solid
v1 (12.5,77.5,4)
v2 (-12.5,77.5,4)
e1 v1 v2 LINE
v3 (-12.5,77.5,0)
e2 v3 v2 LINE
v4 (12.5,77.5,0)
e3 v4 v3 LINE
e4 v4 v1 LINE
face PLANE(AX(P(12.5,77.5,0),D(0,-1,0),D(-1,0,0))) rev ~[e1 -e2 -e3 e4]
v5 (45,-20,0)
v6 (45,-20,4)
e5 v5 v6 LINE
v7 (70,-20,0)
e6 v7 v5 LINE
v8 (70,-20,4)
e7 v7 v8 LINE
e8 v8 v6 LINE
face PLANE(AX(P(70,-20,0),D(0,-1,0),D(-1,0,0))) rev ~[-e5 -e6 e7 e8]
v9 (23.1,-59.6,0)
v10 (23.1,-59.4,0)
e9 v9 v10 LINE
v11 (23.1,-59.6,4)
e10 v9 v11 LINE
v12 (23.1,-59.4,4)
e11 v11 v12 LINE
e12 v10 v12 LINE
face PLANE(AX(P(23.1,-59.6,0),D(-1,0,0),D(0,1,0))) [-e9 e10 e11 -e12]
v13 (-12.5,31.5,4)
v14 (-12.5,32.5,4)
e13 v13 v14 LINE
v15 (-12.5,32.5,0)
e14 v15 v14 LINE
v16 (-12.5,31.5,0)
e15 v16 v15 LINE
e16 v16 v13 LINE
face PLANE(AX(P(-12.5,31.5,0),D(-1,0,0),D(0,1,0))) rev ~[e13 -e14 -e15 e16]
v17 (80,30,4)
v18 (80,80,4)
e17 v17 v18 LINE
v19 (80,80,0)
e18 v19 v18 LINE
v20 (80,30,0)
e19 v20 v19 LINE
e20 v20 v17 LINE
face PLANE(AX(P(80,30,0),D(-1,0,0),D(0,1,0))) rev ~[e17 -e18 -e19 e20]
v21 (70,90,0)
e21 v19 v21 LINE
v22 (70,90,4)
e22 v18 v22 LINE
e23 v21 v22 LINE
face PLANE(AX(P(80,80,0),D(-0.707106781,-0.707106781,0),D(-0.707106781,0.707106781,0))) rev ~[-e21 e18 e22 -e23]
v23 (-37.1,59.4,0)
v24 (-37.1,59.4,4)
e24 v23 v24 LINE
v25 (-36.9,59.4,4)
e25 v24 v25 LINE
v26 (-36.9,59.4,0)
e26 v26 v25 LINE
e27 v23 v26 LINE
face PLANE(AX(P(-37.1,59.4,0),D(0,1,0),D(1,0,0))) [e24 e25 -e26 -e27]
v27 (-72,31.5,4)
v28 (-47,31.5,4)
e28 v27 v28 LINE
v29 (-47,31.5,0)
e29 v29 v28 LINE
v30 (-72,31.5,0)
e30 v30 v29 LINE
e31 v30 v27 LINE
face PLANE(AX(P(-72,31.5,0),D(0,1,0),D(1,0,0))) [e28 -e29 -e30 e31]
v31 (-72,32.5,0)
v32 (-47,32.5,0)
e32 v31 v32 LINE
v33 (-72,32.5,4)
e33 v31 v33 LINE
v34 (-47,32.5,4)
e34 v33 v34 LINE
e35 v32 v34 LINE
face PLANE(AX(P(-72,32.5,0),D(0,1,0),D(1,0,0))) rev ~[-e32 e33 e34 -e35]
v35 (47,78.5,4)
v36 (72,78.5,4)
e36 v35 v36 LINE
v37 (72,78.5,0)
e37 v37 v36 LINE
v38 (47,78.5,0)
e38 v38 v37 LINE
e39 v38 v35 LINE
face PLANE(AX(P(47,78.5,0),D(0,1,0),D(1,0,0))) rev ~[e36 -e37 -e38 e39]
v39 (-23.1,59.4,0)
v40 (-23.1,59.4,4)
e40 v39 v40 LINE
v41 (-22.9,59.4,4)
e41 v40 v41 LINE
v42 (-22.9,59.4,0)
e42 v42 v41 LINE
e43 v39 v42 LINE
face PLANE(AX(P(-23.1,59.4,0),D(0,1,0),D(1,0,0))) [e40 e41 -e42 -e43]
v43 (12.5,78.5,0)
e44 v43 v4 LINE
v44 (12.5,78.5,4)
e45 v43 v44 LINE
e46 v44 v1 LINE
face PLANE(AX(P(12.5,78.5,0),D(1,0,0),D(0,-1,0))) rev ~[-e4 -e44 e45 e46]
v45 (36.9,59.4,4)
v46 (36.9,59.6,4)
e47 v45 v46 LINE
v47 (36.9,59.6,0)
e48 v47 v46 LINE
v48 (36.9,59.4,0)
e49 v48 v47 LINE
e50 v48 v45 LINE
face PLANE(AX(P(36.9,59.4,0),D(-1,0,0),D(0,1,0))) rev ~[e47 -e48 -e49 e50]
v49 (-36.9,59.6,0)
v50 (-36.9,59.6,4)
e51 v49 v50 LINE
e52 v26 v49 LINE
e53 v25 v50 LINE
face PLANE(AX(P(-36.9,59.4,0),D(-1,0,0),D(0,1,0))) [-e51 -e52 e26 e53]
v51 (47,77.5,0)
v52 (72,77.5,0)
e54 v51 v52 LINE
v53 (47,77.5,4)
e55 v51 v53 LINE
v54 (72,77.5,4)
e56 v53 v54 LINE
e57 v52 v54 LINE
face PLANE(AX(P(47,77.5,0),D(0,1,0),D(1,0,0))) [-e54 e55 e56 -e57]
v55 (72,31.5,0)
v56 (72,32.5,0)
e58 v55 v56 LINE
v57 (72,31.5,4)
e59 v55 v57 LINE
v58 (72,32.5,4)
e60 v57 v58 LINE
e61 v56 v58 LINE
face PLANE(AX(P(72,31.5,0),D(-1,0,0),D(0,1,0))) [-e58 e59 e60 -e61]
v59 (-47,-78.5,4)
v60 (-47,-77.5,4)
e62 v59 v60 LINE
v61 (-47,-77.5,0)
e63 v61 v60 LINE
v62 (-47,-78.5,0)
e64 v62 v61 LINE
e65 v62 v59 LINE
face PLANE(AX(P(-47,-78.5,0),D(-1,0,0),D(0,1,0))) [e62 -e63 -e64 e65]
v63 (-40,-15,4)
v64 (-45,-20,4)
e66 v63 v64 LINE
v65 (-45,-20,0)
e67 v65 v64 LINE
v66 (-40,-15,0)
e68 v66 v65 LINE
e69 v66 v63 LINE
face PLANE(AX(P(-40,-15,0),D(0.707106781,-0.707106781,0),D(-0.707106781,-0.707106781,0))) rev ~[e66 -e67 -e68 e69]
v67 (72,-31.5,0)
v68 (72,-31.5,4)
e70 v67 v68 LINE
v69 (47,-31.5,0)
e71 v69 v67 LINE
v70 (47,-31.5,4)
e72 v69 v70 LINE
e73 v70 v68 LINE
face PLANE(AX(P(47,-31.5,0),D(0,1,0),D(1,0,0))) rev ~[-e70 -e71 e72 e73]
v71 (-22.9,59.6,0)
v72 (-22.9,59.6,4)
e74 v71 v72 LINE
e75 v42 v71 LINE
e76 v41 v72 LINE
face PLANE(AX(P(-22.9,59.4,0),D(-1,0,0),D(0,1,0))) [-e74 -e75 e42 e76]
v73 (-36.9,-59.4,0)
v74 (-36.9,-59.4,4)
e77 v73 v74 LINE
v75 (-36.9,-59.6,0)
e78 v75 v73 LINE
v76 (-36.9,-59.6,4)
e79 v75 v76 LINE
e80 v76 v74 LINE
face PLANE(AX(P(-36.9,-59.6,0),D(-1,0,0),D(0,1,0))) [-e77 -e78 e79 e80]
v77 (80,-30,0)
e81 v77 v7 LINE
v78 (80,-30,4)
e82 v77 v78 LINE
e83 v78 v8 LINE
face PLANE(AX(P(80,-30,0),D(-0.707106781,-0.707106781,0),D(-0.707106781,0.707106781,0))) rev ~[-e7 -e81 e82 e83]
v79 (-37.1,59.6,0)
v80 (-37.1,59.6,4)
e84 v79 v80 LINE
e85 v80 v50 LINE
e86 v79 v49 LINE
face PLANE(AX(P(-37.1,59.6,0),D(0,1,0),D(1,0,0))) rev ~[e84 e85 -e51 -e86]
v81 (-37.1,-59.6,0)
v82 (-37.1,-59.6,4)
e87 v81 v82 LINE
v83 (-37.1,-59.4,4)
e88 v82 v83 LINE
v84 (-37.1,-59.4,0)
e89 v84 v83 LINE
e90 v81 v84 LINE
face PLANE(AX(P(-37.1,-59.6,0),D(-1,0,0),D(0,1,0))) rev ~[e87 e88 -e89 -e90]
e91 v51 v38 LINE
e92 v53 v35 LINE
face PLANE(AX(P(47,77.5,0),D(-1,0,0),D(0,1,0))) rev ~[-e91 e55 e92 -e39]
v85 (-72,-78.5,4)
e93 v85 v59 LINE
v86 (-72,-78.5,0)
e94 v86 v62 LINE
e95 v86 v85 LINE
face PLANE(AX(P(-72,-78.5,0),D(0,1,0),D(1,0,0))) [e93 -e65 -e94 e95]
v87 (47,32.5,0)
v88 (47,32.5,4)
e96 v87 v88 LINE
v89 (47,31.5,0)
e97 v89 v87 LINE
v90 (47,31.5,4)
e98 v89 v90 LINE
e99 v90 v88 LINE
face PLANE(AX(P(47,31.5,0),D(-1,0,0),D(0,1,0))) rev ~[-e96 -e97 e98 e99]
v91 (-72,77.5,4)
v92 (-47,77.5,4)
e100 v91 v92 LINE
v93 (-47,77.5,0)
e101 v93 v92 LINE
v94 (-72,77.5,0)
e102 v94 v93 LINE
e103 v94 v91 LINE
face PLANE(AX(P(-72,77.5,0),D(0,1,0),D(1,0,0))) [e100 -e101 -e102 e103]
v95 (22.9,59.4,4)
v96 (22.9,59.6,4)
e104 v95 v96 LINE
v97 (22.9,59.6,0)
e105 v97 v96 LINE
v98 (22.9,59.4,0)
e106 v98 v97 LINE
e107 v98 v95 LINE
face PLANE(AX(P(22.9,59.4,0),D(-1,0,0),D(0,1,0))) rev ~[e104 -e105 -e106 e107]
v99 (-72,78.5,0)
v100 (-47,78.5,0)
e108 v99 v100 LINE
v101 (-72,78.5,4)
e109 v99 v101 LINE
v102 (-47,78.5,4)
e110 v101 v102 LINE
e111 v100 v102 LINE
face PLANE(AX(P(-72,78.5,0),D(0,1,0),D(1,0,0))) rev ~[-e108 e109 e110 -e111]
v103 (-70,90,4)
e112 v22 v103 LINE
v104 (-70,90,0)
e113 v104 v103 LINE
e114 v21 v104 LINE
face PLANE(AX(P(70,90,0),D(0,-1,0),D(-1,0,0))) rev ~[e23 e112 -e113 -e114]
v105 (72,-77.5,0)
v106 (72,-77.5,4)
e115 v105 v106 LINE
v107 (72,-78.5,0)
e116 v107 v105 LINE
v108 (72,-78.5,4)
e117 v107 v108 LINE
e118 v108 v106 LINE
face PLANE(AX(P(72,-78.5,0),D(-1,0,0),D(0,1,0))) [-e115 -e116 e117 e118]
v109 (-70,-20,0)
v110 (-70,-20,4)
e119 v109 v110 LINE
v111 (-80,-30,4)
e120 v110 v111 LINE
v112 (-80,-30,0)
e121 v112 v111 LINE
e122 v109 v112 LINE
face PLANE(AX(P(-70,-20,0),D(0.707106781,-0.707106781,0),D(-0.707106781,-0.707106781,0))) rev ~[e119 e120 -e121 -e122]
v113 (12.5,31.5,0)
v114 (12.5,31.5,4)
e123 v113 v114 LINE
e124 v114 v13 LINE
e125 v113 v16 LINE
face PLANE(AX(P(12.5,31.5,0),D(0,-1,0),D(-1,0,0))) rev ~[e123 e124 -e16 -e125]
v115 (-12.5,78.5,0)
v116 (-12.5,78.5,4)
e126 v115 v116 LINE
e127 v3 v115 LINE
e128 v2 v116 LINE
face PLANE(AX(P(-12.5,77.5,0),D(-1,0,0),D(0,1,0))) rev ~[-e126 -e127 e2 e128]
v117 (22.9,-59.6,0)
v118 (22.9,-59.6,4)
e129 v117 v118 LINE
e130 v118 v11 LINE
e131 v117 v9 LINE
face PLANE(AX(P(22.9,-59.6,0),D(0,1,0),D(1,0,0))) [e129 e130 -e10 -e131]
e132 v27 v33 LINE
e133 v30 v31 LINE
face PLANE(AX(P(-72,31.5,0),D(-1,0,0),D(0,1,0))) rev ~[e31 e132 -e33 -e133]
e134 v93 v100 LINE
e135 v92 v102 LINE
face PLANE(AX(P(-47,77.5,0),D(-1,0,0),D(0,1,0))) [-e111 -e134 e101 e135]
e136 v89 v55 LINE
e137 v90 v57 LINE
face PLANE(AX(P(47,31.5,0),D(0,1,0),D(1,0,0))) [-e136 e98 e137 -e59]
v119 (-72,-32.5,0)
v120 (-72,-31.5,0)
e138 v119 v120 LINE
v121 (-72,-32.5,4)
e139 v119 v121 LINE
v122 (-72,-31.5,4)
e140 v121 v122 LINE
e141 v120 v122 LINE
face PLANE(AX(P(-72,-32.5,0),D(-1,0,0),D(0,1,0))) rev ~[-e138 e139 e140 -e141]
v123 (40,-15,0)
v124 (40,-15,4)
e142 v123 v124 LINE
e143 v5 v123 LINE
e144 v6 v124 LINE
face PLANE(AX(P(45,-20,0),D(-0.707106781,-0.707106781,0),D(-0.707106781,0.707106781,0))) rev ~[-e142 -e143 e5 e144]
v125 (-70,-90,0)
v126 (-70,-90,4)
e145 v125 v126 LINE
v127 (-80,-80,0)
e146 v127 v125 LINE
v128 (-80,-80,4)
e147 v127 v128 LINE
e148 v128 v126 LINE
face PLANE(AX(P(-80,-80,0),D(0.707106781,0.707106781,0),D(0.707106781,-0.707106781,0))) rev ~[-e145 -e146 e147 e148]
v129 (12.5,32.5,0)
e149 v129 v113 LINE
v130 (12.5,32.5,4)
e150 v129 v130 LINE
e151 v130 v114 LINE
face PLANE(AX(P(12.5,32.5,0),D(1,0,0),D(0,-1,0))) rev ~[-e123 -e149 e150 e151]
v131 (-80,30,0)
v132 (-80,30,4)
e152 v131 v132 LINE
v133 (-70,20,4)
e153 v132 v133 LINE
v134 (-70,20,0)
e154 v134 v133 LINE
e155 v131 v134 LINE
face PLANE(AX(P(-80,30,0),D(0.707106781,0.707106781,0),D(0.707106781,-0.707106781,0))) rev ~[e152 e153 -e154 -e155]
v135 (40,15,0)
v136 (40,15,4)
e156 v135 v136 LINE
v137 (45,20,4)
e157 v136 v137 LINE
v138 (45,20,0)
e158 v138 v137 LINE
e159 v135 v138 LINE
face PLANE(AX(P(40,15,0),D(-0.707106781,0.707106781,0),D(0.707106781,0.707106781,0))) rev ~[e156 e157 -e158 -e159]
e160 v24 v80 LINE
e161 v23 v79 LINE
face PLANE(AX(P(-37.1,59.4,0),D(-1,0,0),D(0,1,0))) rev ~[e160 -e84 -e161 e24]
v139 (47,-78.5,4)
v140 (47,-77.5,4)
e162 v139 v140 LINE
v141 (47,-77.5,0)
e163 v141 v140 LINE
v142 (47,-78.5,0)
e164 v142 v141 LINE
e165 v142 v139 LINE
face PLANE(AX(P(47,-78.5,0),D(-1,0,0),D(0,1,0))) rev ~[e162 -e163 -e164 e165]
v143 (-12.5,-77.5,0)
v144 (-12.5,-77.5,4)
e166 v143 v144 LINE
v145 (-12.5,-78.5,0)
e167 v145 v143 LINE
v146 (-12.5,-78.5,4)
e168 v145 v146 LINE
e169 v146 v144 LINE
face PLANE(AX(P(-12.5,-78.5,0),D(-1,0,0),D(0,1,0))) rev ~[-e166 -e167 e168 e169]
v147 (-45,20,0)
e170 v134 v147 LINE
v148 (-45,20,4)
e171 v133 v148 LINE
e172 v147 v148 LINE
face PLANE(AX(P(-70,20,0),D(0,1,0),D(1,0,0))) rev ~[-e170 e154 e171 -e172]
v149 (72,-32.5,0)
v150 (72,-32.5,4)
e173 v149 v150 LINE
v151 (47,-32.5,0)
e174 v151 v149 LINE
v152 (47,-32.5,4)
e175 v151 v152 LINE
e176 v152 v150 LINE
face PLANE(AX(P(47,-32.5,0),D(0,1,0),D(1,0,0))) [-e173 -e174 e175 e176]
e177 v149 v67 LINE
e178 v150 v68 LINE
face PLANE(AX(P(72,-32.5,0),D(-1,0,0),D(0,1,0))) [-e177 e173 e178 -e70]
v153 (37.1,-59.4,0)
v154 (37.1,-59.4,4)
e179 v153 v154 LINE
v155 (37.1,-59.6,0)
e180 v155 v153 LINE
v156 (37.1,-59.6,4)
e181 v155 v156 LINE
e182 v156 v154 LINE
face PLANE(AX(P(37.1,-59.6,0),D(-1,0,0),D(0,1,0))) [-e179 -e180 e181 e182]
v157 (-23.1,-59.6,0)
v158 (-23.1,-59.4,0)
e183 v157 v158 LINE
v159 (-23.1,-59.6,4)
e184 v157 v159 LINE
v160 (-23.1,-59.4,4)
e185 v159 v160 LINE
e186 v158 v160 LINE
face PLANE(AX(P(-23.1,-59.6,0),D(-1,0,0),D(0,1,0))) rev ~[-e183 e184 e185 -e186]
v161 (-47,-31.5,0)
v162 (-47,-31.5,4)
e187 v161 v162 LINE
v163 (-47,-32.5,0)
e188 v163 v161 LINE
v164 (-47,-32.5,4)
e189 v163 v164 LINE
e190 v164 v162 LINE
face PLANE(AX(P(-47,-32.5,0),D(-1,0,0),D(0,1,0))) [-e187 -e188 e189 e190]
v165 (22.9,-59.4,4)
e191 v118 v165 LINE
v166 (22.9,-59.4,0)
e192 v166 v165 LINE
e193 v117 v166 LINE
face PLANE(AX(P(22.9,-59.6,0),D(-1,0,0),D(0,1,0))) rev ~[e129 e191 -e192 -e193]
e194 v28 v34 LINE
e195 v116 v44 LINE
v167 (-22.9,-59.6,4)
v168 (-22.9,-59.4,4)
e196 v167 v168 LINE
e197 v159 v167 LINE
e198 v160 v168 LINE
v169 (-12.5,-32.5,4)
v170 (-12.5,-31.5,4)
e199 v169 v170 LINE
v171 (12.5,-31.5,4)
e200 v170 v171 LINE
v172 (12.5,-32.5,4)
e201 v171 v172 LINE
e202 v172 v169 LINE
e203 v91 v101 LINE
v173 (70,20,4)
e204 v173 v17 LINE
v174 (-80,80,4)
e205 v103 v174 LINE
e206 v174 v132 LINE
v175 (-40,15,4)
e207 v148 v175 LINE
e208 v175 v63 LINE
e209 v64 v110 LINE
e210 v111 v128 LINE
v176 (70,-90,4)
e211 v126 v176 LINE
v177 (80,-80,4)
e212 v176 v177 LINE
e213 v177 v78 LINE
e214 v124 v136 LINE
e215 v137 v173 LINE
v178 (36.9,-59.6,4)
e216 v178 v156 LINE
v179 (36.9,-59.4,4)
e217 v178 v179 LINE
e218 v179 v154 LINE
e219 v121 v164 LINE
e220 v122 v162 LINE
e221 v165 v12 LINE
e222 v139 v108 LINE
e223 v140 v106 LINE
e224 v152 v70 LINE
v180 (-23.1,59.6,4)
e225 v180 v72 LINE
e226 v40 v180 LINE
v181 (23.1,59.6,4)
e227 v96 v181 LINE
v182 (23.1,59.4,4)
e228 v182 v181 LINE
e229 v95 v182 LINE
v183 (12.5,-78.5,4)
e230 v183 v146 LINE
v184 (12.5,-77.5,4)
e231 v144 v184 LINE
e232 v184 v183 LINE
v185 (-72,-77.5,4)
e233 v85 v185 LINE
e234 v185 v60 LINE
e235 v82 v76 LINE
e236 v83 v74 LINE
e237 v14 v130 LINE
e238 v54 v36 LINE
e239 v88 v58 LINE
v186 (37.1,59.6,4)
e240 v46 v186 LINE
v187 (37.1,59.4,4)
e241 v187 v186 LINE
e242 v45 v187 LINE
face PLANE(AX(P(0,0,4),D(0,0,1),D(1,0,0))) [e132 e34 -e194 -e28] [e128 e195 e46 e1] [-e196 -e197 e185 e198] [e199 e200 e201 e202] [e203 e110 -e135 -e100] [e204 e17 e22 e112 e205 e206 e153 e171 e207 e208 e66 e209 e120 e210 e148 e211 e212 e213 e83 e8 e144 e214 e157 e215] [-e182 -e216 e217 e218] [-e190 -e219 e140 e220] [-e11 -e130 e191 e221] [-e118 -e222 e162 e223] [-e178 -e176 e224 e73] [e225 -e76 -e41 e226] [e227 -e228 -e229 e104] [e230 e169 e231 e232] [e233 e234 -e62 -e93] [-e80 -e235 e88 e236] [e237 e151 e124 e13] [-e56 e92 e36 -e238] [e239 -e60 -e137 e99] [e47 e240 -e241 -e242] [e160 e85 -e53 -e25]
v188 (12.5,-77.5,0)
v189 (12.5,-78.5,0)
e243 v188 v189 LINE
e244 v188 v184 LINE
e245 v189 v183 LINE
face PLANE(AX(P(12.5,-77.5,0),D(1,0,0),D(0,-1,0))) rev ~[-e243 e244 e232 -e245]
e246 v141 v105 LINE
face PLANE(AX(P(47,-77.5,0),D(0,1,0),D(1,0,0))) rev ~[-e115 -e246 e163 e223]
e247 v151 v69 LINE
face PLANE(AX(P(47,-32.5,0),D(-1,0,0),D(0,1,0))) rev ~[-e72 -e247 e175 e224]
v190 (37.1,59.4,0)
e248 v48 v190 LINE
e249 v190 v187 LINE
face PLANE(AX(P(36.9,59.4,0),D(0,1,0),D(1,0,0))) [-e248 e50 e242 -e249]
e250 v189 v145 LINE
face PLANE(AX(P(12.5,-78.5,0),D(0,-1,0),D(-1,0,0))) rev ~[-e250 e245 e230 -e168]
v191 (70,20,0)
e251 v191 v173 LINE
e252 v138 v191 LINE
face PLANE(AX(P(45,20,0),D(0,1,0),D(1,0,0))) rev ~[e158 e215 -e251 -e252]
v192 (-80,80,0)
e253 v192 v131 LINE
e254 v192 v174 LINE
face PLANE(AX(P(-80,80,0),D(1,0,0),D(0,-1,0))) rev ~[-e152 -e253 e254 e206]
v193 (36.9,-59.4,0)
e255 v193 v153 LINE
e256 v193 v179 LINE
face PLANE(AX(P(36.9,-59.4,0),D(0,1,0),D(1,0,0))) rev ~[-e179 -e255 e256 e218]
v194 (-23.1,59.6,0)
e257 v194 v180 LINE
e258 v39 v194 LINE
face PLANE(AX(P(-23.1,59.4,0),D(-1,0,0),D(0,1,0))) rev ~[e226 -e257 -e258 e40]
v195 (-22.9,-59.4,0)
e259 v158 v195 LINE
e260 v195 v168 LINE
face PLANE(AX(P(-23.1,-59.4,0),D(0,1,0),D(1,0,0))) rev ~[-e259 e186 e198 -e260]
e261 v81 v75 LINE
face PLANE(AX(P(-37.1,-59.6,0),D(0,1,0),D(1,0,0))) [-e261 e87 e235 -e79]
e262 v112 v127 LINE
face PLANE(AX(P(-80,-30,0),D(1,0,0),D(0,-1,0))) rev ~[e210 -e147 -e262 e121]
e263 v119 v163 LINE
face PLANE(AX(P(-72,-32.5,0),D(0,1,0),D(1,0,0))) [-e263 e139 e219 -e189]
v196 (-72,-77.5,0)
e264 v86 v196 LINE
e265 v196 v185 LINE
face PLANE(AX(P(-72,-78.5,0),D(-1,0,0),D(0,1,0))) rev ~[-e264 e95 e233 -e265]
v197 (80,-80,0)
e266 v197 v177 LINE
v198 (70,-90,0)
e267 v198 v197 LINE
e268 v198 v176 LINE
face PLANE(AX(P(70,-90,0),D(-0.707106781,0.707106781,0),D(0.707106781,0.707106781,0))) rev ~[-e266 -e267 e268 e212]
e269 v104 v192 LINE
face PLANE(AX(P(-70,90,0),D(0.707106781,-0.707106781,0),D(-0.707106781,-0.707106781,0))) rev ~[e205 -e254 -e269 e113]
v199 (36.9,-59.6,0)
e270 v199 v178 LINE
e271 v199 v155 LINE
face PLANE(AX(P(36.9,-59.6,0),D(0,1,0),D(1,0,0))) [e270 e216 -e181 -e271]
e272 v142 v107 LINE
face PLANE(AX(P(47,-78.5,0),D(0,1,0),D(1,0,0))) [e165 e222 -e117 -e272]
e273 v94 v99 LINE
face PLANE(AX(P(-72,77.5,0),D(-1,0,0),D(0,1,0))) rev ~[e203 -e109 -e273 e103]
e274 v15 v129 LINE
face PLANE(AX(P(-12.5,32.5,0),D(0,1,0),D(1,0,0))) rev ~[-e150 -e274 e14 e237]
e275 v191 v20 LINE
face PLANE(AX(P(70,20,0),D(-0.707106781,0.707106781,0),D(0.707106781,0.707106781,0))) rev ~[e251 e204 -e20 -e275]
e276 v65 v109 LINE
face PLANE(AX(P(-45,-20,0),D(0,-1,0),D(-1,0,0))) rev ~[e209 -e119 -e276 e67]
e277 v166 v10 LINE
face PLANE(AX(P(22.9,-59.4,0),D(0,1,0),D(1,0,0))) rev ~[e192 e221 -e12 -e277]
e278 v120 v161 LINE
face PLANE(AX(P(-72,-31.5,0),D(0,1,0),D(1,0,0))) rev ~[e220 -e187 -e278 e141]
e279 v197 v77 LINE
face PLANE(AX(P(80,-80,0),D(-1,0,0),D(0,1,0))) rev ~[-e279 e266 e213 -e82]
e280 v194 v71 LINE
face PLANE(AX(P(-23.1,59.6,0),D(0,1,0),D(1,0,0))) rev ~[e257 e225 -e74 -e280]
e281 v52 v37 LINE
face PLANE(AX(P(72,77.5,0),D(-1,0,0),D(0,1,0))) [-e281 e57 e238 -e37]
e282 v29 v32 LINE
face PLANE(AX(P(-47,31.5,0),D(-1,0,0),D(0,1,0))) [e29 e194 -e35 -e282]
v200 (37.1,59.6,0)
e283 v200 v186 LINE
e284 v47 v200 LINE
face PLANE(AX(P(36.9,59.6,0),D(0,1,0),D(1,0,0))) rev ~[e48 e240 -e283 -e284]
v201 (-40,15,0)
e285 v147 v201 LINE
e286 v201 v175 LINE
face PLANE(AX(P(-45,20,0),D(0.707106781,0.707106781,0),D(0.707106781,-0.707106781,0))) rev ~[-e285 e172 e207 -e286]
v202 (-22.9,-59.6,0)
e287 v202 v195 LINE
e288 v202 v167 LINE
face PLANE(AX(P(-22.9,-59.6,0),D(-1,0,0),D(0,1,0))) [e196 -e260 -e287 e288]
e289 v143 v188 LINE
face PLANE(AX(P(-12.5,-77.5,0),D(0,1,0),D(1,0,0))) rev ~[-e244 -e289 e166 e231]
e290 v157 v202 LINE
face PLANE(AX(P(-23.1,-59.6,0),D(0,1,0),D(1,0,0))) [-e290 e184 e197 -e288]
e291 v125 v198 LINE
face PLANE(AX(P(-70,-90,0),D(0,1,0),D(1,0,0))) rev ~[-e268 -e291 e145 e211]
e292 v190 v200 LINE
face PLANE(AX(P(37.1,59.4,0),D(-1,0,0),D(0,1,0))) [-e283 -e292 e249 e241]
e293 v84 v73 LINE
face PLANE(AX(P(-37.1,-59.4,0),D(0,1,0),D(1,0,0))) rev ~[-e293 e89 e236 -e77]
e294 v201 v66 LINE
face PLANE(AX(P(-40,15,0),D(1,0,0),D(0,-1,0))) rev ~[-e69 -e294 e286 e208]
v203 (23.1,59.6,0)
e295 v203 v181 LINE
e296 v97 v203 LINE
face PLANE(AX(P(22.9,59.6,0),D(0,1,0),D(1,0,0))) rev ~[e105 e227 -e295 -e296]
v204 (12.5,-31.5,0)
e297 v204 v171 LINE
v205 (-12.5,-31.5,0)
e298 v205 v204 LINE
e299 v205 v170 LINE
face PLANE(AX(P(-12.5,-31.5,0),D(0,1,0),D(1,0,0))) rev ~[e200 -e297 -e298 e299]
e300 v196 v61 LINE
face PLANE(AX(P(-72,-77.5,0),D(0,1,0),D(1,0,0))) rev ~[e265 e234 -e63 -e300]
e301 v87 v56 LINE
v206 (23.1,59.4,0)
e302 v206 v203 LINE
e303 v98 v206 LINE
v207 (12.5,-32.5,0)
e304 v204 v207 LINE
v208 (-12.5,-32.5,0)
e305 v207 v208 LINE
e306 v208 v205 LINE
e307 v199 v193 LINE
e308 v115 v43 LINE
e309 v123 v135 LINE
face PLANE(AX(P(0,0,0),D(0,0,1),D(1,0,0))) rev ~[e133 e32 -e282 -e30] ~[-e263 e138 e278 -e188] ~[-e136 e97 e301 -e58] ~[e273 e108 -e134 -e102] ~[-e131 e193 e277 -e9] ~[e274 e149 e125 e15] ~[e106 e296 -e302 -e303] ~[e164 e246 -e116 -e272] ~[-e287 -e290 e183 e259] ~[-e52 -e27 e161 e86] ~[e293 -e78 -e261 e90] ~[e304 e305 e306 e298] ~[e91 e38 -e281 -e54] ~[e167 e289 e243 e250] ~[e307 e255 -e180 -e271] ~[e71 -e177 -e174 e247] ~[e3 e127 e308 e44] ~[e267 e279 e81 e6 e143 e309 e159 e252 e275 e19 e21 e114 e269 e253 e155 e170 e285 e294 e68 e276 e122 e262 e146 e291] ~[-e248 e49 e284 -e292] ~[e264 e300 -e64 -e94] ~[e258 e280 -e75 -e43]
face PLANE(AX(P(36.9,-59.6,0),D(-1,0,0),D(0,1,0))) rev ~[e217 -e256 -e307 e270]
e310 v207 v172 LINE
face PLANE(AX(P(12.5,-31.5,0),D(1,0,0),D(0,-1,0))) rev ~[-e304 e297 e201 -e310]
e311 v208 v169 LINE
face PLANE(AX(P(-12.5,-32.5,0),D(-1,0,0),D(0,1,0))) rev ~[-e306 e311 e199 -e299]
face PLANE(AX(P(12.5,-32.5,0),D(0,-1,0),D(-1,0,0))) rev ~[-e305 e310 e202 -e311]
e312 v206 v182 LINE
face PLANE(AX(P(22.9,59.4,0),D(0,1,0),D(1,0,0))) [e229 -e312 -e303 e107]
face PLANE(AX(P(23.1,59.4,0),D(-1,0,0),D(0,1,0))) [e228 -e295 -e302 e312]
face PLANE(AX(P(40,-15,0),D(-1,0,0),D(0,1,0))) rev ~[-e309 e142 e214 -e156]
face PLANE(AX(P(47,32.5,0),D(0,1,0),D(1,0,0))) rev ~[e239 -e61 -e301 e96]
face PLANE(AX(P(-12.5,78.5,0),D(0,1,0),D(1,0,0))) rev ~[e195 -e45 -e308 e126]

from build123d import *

# Parameters (mm, degrees)
F0_W     = 25
F0_H     = 1
F0_W_2   = 0.2
F0_H_2   = 0.2
F1_DEPTH = 4


with BuildPart() as f1:
    # F0 (on Top) → F1 (new body)
    with BuildSketch(Plane.XY):
        Polygon((70, 90), (0, 90), (-70, 90), (-80, 80), (-80, 30), (-70, 20), (-45, 20), (-40, 15), (-40, 0), (-40, -15), (-45, -20), (-70, -20), (-80, -30), (-80, -80), (-70, -90), (0, -90), (70, -90), (80, -80), (80, -30), (70, -20), (45, -20), (40, -15), (40, 0), (40, 15), (45, 20), (70, 20), (80, 30), (80, 80), align=None)
        with Locations((-59.5, -78)):
            Rectangle(F0_W, F0_H, mode=Mode.SUBTRACT)
        with Locations((-37, -59.5)):
            Rectangle(F0_W_2, F0_H_2, mode=Mode.SUBTRACT)
        with Locations((-23, -59.5)):
            Rectangle(F0_W_2, F0_H_2, mode=Mode.SUBTRACT)
        with Locations((-59.5, -32)):
            Rectangle(F0_W, F0_H, mode=Mode.SUBTRACT)
        Polygon((12.5, -78.5), (0, -78.5), (-12.5, -78.5), (-12.5, -77.5), (0, -77.5), (12.5, -77.5), align=None, mode=Mode.SUBTRACT)
        with Locations((23, -59.5)):
            Rectangle(F0_W_2, F0_H_2, mode=Mode.SUBTRACT)
        with Locations((37, -59.5)):
            Rectangle(F0_W_2, F0_H_2, mode=Mode.SUBTRACT)
        with Locations((59.5, -78)):
            Rectangle(F0_W, F0_H, mode=Mode.SUBTRACT)
        Polygon((12.5, -32.5), (0, -32.5), (-12.5, -32.5), (-12.5, -31.5), (0, -31.5), (12.5, -31.5), align=None, mode=Mode.SUBTRACT)
        with Locations((59.5, -32)):
            Rectangle(F0_W, F0_H, mode=Mode.SUBTRACT)
        with Locations((-59.5, 32)):
            Rectangle(F0_W, F0_H, mode=Mode.SUBTRACT)
        with Locations((-59.5, 78)):
            Rectangle(F0_W, F0_H, mode=Mode.SUBTRACT)
        with Locations((-37, 59.5)):
            Rectangle(F0_W_2, F0_H_2, mode=Mode.SUBTRACT)
        with Locations((-23, 59.5)):
            Rectangle(F0_W_2, F0_H_2, mode=Mode.SUBTRACT)
        Polygon((12.5, 32.5), (12.5, 31.5), (0, 31.5), (-12.5, 31.5), (-12.5, 32.5), (0, 32.5), align=None, mode=Mode.SUBTRACT)
        with Locations((59.5, 32)):
            Rectangle(F0_W, F0_H, mode=Mode.SUBTRACT)
        with Locations((23, 59.5)):
            Rectangle(F0_W_2, F0_H_2, mode=Mode.SUBTRACT)
        with Locations((37, 59.5)):
            Rectangle(F0_W_2, F0_H_2, mode=Mode.SUBTRACT)
        Polygon((-12.5, 78.5), (0, 78.5), (12.5, 78.5), (12.5, 77.5), (0, 77.5), (-12.5, 77.5), align=None, mode=Mode.SUBTRACT)
        with Locations((59.5, 78)):
            Rectangle(F0_W, F0_H, mode=Mode.SUBTRACT)
    extrude(amount=F1_DEPTH)


solid = f1.part
